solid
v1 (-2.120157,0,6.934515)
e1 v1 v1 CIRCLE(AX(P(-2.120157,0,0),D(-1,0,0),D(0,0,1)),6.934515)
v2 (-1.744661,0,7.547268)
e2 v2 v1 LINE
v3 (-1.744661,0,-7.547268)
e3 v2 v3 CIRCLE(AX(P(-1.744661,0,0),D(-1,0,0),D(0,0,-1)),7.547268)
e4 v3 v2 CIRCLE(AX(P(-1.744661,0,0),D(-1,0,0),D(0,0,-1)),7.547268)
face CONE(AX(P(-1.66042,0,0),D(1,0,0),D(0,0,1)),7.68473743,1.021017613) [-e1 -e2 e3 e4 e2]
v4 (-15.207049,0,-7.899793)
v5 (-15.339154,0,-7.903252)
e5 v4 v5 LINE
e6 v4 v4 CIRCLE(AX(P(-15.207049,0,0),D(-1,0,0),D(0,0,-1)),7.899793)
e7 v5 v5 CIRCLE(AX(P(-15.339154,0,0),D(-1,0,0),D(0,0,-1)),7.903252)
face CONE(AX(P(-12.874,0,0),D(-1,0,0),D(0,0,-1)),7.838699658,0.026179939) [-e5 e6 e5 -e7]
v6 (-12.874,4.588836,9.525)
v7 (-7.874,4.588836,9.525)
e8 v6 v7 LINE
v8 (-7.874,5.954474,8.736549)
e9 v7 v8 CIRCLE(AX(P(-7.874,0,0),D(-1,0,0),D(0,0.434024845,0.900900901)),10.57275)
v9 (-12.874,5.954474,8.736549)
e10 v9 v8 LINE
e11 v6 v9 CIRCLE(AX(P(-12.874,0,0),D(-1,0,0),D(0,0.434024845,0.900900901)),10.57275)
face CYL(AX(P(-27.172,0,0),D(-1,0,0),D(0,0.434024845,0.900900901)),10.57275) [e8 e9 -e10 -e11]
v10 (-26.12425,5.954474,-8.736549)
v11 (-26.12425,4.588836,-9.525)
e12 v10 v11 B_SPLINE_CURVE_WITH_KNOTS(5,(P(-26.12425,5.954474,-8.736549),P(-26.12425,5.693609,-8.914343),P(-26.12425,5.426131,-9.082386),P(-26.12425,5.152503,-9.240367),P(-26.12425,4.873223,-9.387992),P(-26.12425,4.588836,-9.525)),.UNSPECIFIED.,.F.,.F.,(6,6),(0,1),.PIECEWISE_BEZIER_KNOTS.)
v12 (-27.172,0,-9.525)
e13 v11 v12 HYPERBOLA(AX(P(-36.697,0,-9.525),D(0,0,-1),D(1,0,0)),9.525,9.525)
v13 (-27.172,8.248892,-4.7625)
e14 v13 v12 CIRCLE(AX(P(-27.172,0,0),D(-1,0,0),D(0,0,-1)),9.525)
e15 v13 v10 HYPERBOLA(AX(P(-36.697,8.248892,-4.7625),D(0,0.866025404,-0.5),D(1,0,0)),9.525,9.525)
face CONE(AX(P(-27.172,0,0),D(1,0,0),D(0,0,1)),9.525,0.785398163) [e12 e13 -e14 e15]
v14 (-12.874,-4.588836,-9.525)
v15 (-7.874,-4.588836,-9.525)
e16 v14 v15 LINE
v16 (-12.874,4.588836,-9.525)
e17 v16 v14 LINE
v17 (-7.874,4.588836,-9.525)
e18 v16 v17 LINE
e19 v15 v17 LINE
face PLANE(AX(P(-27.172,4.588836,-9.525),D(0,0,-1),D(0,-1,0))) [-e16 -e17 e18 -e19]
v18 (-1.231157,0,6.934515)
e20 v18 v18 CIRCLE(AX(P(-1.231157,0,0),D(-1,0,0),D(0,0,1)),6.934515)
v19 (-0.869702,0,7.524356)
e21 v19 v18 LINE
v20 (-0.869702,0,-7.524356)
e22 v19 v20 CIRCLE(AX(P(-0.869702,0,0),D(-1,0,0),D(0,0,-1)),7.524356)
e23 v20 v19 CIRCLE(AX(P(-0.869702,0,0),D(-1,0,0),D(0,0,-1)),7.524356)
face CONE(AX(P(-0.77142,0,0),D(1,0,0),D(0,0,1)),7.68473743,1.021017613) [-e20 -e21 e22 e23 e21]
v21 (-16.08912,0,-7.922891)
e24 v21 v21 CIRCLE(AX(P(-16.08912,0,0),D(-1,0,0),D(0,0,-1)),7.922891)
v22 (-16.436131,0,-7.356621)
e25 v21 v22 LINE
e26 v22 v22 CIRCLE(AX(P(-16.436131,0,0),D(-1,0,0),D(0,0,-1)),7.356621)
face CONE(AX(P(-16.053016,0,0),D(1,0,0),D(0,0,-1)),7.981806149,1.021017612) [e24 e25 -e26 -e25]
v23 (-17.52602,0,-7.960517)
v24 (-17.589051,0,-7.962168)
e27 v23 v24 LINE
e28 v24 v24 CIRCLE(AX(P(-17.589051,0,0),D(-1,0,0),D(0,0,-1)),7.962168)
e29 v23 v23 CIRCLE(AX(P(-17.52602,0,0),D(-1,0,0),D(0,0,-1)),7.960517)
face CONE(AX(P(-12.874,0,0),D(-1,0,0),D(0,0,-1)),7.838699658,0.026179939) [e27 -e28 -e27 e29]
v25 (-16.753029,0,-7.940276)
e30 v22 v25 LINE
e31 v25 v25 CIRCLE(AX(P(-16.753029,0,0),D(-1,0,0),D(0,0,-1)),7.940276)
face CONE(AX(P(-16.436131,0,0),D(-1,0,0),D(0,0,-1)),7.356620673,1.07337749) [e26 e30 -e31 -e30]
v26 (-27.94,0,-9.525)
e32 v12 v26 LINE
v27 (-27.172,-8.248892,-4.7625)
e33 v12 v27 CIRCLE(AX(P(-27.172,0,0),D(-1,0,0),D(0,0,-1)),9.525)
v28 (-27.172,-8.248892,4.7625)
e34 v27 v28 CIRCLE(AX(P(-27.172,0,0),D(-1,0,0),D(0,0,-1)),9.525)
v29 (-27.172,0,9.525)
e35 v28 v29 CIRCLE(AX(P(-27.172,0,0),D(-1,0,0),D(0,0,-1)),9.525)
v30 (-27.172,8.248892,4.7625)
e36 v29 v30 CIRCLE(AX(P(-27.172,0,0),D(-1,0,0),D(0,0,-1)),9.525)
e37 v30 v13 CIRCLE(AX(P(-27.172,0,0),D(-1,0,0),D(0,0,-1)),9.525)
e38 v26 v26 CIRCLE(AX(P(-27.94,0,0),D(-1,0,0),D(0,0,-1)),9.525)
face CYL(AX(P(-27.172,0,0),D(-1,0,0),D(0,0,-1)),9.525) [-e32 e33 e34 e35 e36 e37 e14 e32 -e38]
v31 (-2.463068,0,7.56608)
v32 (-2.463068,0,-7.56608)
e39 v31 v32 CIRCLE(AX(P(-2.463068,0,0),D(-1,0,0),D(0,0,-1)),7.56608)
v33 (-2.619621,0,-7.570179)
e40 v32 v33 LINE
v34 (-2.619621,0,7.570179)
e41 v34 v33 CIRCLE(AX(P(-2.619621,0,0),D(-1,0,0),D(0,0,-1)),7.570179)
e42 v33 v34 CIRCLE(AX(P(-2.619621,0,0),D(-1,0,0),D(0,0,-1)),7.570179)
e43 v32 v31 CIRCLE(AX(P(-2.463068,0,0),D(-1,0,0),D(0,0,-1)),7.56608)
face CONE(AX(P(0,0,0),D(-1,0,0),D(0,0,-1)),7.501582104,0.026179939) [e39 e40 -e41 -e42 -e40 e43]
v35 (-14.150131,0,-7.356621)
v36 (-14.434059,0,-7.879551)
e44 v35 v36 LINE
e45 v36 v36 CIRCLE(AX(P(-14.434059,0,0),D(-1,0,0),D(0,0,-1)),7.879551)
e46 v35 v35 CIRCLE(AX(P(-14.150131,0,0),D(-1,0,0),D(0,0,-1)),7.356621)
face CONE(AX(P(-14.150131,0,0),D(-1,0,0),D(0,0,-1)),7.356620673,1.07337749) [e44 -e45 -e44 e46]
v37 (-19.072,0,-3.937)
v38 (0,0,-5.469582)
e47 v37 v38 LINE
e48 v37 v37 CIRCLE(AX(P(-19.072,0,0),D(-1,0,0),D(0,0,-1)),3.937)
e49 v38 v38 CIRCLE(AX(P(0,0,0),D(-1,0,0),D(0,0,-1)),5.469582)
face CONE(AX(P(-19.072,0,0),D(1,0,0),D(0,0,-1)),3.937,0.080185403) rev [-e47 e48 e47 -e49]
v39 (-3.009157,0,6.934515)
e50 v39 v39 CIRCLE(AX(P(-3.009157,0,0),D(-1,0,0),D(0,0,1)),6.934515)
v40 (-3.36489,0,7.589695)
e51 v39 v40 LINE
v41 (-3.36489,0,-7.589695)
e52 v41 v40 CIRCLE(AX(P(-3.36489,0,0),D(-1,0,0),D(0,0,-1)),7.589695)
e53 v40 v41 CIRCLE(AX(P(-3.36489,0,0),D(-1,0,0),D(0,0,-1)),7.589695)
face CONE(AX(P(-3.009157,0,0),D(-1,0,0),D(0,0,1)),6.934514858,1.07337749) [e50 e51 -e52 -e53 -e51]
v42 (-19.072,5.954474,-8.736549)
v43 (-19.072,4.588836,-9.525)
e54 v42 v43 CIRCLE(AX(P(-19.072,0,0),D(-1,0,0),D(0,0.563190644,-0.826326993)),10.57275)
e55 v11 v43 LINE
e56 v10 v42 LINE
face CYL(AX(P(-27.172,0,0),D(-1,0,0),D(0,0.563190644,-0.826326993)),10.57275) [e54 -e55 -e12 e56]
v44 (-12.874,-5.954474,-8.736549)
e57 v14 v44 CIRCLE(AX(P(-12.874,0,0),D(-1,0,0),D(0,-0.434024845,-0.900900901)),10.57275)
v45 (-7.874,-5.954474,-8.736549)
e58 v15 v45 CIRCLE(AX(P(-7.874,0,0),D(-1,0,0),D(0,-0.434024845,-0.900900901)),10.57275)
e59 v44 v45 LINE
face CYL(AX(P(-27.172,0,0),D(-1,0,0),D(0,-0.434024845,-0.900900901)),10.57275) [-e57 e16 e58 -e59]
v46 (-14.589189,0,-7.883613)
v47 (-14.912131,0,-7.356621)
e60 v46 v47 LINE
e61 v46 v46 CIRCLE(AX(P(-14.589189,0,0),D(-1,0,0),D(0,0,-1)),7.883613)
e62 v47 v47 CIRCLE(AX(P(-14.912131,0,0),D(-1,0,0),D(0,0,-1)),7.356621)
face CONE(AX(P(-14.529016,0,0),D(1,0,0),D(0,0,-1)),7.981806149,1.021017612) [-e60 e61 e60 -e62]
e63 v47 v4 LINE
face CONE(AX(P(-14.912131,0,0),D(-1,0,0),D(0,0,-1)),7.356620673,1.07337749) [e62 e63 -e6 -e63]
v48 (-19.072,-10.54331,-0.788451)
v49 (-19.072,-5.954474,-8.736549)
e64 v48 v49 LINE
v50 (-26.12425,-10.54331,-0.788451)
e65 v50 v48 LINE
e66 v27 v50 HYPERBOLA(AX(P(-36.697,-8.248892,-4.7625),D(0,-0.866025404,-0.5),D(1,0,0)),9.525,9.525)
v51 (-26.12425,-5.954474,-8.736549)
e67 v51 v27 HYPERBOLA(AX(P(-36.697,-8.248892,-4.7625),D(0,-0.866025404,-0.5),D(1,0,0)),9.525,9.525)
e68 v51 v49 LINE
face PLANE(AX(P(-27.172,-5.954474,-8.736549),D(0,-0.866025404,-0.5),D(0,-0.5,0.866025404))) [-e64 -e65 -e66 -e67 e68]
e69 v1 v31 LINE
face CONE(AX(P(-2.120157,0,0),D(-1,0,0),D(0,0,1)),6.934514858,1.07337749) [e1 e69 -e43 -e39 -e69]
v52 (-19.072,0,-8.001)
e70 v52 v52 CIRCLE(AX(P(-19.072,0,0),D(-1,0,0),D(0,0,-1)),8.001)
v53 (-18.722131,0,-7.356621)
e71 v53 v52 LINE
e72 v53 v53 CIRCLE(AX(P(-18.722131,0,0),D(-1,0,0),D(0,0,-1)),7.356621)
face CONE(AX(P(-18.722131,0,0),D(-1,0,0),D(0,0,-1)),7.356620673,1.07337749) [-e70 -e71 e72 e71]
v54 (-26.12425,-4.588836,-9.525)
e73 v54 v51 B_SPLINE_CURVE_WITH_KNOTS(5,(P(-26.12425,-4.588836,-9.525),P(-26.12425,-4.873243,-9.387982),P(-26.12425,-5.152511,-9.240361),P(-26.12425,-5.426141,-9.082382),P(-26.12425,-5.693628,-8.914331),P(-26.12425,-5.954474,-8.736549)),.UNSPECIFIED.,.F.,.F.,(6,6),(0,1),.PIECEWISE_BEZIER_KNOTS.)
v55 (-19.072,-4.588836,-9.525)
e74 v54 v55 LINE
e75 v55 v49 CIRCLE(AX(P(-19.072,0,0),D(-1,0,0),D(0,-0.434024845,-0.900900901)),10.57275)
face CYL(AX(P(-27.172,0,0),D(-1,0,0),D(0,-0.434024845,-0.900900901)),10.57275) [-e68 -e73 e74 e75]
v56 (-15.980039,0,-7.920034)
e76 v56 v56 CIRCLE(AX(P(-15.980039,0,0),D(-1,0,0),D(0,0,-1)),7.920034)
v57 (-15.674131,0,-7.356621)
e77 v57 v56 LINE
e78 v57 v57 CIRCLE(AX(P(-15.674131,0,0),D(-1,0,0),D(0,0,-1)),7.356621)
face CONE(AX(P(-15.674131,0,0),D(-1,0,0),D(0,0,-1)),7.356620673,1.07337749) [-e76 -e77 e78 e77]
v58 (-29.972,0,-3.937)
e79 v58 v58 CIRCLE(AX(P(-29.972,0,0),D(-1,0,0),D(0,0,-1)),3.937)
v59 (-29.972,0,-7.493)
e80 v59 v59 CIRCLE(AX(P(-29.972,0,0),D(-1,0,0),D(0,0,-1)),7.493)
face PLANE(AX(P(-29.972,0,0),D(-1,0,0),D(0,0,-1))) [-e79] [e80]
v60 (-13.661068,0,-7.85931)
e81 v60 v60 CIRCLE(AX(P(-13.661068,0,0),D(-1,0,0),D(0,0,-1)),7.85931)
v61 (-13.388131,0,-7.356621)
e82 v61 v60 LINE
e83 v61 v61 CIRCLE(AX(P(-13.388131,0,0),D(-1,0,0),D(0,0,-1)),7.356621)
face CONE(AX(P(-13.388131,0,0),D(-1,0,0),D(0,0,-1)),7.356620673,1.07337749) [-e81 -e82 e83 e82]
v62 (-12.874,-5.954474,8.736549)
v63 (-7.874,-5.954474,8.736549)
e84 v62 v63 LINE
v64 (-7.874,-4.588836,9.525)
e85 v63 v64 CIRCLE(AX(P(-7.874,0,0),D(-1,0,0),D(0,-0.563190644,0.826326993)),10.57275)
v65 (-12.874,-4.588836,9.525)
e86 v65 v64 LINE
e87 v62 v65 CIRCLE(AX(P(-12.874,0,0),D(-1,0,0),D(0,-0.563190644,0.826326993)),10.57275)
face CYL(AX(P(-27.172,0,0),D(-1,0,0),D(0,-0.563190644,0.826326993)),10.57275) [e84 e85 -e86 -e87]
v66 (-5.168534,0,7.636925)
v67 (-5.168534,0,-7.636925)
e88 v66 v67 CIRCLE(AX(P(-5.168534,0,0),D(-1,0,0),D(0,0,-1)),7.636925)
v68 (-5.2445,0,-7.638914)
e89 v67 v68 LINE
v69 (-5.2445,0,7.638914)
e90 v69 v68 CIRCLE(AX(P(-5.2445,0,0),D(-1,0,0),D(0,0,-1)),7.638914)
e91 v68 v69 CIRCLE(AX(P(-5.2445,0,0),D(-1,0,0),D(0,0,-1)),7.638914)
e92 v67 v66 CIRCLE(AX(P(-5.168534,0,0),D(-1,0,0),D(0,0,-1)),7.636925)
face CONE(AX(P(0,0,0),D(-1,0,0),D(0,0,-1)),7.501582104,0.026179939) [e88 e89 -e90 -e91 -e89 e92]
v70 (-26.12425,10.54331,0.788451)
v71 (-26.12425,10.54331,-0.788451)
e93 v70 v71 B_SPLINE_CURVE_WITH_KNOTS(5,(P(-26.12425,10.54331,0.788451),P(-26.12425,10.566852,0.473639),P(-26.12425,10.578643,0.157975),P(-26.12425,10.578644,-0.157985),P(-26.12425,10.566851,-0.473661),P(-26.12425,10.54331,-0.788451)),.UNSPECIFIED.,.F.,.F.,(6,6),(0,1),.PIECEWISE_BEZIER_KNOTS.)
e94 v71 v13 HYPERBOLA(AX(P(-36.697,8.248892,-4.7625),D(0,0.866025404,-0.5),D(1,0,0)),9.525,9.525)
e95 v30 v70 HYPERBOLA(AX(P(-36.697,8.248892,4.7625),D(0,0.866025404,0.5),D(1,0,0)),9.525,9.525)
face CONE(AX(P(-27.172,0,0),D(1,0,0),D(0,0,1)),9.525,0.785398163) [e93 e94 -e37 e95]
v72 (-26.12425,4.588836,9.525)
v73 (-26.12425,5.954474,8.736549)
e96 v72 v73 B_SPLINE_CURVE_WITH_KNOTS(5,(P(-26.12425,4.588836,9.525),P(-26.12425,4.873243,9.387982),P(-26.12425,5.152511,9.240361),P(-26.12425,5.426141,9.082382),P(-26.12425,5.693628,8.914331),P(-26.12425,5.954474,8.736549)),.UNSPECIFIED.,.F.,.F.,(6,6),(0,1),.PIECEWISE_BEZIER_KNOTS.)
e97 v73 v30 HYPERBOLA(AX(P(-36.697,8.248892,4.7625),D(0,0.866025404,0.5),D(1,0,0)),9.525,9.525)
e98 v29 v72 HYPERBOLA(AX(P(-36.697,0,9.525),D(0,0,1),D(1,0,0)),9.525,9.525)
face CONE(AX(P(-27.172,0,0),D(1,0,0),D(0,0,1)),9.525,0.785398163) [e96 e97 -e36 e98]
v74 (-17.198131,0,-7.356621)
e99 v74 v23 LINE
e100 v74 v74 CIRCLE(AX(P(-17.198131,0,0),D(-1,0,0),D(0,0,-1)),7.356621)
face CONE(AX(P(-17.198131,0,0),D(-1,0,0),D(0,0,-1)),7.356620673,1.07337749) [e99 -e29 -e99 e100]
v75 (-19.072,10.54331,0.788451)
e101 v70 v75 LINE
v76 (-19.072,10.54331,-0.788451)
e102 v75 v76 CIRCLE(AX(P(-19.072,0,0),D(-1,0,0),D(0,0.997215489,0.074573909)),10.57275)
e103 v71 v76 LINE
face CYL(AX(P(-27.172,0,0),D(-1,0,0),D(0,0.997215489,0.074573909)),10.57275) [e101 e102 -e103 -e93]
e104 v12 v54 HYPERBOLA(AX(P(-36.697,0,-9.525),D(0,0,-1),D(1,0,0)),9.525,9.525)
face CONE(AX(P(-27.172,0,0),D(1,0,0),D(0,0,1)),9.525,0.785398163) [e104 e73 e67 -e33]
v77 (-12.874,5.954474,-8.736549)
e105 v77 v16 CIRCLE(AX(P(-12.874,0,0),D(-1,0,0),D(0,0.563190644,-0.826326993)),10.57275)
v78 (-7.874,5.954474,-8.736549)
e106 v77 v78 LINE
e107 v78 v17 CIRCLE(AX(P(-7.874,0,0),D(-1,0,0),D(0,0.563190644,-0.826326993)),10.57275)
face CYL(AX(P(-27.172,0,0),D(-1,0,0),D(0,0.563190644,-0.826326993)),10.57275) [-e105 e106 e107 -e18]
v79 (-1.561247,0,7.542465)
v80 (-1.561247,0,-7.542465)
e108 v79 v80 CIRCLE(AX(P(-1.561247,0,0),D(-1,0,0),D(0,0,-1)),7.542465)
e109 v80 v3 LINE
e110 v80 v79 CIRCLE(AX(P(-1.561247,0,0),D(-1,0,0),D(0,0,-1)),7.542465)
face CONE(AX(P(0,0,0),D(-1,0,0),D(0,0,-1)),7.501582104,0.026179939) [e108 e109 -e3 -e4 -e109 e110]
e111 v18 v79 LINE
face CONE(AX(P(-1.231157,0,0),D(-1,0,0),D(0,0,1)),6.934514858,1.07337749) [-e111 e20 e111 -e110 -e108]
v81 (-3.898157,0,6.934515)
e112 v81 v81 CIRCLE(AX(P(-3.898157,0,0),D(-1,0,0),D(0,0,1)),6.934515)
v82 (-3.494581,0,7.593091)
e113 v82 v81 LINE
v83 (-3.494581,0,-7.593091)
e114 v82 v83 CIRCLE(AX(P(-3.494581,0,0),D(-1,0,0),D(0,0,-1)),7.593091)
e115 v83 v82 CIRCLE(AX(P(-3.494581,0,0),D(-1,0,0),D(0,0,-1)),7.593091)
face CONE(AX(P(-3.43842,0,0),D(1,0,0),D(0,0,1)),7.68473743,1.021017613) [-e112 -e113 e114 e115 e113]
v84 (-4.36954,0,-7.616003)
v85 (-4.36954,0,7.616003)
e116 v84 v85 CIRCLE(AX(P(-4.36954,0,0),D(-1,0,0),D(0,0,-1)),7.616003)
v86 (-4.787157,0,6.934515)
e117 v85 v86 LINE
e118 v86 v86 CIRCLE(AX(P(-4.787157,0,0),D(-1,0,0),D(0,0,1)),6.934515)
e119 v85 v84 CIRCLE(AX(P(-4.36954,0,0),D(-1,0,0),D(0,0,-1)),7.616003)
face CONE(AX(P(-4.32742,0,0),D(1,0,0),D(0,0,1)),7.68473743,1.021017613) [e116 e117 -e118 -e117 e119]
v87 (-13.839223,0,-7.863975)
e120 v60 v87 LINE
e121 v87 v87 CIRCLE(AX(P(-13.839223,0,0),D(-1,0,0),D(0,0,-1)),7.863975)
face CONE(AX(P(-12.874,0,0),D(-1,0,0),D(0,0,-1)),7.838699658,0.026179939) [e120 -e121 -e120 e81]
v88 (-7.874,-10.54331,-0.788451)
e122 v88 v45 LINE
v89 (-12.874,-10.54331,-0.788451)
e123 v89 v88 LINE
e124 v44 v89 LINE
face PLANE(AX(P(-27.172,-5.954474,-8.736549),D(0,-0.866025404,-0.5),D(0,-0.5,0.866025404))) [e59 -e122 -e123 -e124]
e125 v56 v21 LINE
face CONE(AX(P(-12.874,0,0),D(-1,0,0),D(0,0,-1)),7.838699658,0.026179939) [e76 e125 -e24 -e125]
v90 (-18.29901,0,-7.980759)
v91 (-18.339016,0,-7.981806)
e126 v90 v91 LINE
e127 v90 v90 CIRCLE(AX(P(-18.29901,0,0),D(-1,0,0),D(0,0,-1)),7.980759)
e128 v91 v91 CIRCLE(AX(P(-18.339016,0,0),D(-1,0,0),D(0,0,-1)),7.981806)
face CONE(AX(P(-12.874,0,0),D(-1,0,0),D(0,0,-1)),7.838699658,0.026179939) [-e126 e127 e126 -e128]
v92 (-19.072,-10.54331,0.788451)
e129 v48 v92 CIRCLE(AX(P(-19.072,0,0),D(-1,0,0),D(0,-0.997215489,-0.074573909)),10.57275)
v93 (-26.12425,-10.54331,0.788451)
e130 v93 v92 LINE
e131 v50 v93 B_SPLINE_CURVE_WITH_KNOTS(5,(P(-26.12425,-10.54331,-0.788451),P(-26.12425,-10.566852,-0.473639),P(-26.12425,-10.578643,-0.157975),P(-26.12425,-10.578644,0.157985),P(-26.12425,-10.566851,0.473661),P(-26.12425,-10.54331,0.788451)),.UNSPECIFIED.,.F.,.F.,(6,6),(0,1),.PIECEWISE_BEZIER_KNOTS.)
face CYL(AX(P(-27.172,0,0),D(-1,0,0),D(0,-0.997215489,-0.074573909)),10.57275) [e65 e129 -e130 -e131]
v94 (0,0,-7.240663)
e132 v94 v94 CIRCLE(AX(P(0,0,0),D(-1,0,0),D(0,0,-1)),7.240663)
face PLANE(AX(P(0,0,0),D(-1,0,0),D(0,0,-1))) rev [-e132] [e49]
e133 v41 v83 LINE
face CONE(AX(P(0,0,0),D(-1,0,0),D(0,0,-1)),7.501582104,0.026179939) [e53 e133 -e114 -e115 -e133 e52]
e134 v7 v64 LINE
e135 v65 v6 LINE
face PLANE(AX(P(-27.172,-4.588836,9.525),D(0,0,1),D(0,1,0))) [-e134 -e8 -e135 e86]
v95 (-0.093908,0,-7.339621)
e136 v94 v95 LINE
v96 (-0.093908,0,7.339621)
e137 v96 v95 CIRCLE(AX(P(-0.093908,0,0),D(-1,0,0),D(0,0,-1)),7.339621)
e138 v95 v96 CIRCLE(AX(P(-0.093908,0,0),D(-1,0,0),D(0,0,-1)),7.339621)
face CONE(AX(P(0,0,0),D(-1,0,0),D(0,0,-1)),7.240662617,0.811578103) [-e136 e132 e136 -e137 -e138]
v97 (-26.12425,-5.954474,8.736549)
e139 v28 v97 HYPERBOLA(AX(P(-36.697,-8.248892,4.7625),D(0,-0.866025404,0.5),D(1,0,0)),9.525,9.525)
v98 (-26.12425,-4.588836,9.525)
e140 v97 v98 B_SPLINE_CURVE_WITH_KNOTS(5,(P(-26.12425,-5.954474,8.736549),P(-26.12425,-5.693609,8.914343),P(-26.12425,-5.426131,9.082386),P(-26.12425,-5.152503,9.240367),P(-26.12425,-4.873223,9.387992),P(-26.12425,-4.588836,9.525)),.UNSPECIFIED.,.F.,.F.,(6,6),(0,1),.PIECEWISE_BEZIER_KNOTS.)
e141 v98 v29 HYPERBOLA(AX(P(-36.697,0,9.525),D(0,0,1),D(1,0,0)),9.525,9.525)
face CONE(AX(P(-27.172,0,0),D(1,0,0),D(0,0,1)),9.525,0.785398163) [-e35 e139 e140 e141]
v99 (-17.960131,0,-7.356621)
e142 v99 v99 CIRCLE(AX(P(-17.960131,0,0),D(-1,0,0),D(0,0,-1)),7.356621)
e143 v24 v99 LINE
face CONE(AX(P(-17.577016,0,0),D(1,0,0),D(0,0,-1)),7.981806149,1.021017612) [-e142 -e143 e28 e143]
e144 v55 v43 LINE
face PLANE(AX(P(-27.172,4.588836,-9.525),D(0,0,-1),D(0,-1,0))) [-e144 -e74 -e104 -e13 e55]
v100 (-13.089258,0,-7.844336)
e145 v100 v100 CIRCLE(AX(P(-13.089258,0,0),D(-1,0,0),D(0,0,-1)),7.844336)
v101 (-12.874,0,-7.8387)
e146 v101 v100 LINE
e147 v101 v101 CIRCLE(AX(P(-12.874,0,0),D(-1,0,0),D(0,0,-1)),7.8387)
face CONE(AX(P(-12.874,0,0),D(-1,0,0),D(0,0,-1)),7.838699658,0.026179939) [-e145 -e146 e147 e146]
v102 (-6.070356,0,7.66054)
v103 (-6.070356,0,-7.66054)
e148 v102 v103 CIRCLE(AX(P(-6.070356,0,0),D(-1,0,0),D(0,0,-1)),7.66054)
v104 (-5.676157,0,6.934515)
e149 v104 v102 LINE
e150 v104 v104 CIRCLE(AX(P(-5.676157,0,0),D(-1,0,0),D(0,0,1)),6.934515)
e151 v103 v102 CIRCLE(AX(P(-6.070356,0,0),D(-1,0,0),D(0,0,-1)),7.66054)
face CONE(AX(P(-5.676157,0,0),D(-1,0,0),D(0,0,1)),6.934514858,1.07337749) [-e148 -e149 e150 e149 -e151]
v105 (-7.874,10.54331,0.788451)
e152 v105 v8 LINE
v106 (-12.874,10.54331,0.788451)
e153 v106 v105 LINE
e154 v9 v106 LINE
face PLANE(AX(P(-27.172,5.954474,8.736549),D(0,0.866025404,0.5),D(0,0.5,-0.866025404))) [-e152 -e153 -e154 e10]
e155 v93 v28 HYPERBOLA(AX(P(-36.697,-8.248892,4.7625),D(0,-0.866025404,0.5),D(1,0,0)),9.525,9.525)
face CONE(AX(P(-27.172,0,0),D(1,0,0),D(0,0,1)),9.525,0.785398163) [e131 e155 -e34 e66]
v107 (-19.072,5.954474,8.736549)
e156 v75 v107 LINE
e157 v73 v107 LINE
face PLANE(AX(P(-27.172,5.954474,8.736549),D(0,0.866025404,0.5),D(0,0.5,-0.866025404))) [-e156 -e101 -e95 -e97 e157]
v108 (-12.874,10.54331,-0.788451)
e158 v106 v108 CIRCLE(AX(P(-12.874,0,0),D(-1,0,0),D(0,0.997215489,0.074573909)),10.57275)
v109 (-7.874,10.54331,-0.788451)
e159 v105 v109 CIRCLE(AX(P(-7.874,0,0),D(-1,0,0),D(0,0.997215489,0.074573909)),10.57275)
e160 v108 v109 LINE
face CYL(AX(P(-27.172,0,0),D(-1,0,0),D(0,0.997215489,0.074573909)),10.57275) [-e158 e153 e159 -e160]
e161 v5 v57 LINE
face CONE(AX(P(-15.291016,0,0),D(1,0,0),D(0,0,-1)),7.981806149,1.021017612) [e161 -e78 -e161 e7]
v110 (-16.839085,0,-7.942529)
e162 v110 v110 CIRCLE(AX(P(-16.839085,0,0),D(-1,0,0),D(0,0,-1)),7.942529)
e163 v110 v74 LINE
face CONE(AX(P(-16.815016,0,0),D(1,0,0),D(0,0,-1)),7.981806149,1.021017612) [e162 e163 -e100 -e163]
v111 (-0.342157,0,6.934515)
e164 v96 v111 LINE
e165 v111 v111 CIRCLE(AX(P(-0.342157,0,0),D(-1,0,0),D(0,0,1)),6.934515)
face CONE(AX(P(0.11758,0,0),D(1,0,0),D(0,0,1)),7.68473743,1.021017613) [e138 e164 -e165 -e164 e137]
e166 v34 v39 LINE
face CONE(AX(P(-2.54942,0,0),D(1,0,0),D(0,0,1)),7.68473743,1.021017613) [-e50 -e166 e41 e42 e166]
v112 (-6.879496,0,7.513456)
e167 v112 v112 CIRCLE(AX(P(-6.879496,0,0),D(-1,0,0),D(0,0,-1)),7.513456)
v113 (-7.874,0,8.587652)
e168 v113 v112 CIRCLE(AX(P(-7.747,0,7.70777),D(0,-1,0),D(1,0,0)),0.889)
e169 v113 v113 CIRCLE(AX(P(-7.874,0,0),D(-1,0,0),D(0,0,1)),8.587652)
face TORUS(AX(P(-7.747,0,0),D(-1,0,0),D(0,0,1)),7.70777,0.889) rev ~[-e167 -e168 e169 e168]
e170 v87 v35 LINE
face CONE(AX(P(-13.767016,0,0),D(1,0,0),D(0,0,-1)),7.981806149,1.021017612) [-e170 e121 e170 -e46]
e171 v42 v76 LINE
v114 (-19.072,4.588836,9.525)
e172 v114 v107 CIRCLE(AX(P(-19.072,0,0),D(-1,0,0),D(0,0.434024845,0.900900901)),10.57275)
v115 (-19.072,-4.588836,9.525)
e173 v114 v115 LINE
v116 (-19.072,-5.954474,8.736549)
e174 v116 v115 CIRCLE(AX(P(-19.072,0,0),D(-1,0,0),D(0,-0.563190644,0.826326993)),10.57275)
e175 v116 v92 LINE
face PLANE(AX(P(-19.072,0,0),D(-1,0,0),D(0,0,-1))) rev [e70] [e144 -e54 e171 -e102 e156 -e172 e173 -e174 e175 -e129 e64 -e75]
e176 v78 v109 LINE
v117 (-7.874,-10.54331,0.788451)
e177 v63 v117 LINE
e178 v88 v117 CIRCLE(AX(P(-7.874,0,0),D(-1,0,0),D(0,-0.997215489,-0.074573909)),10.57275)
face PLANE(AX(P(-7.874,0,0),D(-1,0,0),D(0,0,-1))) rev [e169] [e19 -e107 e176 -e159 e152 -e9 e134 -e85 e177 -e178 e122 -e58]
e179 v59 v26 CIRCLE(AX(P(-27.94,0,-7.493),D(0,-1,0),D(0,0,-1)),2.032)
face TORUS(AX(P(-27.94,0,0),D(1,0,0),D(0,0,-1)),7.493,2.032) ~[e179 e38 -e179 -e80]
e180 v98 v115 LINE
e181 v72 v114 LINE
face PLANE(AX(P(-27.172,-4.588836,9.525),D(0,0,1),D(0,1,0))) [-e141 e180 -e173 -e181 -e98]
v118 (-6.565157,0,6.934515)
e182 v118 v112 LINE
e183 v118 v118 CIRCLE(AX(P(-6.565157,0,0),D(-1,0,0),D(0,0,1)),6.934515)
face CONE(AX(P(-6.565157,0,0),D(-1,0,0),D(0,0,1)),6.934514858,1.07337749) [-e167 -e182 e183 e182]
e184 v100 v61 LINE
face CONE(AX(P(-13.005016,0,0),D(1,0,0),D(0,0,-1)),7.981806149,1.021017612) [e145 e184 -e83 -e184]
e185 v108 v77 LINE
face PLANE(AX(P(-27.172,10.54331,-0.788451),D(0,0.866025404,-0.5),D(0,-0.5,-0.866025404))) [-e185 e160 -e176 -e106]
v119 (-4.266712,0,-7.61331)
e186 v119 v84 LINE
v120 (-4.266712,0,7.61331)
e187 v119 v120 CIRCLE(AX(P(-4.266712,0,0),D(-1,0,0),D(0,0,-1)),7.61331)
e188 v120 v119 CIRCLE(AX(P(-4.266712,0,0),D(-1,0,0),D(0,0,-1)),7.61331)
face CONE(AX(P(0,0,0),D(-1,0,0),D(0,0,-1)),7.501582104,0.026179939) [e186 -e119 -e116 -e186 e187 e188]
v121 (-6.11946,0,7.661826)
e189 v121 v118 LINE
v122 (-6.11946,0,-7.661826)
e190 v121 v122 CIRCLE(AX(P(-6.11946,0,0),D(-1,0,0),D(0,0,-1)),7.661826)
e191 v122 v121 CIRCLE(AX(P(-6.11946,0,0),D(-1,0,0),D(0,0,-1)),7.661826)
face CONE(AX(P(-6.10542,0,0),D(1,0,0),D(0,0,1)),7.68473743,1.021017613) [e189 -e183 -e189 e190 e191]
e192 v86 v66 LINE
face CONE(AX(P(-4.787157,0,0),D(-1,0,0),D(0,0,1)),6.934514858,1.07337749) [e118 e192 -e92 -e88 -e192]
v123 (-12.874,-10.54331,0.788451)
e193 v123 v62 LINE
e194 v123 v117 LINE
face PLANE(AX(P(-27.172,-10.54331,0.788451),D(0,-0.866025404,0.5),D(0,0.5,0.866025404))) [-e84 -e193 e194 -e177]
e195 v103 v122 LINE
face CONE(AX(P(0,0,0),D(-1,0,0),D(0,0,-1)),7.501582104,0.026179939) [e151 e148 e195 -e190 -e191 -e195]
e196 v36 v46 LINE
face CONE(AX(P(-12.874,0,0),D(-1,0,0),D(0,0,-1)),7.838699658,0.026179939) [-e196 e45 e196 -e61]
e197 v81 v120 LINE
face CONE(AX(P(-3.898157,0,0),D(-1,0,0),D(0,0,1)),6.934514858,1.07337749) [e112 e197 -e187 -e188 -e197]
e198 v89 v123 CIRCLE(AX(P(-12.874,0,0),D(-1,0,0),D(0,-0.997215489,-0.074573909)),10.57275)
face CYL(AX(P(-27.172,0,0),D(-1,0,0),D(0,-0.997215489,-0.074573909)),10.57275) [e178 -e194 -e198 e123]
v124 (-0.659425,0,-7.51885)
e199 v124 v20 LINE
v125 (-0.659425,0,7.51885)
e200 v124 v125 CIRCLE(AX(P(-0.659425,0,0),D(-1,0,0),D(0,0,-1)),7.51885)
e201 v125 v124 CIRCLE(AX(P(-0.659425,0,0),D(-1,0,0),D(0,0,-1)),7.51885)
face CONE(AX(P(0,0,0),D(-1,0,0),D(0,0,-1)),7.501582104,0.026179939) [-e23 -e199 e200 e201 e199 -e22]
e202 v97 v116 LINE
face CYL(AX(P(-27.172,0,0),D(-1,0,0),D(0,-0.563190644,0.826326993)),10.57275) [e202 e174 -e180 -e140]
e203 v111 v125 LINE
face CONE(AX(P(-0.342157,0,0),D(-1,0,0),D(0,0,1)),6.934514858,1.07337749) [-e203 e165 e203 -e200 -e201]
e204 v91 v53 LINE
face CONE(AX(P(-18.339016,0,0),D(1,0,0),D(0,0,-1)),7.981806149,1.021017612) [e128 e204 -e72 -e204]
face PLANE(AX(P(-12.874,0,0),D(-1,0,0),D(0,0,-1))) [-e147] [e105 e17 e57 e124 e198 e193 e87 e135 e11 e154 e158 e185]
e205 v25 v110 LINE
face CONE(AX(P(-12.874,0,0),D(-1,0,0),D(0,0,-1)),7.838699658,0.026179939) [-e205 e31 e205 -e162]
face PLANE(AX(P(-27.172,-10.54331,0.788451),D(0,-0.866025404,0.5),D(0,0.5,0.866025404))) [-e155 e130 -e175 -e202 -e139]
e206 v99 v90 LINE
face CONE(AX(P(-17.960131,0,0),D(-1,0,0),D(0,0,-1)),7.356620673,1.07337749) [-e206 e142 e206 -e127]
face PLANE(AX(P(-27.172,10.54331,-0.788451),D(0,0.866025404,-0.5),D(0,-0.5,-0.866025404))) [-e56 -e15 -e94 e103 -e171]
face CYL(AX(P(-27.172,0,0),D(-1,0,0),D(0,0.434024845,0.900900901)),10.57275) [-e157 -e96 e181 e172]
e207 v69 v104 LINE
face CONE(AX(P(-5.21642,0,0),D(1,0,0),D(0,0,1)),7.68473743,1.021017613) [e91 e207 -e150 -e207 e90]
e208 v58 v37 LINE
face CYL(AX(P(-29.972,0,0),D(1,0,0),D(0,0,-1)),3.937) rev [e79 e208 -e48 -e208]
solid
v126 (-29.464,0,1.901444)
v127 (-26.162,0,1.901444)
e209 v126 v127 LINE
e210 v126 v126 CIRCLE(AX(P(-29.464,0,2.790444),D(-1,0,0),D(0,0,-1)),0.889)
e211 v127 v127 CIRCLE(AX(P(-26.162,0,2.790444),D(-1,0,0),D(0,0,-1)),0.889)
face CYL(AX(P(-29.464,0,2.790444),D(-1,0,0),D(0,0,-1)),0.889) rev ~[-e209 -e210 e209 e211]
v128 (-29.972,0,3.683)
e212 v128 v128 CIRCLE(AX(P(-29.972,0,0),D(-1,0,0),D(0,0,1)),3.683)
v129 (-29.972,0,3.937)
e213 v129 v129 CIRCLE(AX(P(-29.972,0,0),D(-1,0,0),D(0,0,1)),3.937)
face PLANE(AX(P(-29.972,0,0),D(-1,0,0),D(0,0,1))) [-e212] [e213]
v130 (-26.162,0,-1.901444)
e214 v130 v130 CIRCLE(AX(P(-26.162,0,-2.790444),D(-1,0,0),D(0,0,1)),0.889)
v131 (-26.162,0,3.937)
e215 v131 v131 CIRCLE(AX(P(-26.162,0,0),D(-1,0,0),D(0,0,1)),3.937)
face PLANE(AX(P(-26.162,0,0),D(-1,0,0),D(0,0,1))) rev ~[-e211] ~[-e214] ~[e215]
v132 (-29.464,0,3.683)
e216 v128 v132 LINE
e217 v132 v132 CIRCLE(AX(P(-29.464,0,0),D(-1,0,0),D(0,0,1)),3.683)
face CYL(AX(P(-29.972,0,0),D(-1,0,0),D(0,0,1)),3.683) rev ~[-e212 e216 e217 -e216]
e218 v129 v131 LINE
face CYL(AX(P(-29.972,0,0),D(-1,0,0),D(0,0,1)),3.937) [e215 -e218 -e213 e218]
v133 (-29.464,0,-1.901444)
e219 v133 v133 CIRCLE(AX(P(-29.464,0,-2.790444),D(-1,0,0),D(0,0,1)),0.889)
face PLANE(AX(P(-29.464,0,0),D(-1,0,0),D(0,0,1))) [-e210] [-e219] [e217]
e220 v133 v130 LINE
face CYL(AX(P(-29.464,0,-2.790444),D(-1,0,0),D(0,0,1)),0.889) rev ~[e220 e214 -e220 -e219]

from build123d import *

# Parameters (mm, degrees)
SKETCH12_OUTSIDE_W = 52.432
SKETCH12_OUTSIDE_H = 52.432
CUT_EXTRUDE2_DEPTH = 28.172
FILLET4_R          = 2.032
SKETCH19_OUTSIDE_W = 33.316
SKETCH19_OUTSIDE_H = 35.412
SKETCH19_OUTSIDE_R = 9.525
CUT_EXTRUDE3_DEPTH = 1.999996
CUT_EXTRUDE3_DRAFT = -45
CHAMFER1_SIZE      = 0.260919487
CHAMFER1_SIZE2     = 0.254
SKETCH21_R         = 3.937
PLUG_DEPTH         = 3.81
SKETCH22_R         = 3.683
CUT_EXTRUDE4_DEPTH = 0.508
SKETCH27_R         = 0.889
PLUGHOLES_DEPTH    = 30.464
CIRPATTERN1_COUNT  = 2
LPATTERN1_COUNT    = 8
LPATTERN1_PITCH    = 0.762
LPATTERN2_COUNT    = 9
LPATTERN2_PITCH    = 0.889
SKETCH32_R         = 0.889


with BuildPart() as part:
    # Sketch10 → Revolve2 (revolve)
    with BuildSketch(Plane.XY, mode=Mode.PRIVATE) as revolve2_sk:
        Polygon((-29.972, 3.937), (-19.072, 3.937), (0, 5.469582104), (0, 7.501582104), (-7.874, 7.70777005), (-7.874, 19.05), (-12.874, 19.05), (-12.874, 7.838699658), (-19.072, 8.001), (-19.072, 19.05), (-27.172, 19.05), (-27.172, 9.525), (-29.972, 9.525), align=None)
    revolve(revolve2_sk.sketch.rotate(Axis((0, 0, 0), (-1, 0, 0)), 90), axis=Axis((0, 0, 0), (-1, 0, 0)))  # turned: the seam where the file's is

    # Sketch12 outside → Cut-Extrude2 (cut, through all)
    with BuildSketch(Plane.ZY.offset(27.172)):
        Rectangle(SKETCH12_OUTSIDE_W, SKETCH12_OUTSIDE_H)
        with BuildLine():
            Line((-0.788451287, 10.543310065), (-8.736548713, 5.954473877))
            ThreePointArc((-8.736548713, 5.954473877), (-9.156270088, 5.286375), (-9.525, 4.588836188))
            Line((-9.525, 4.588836188), (-9.525, -4.588836188))
            ThreePointArc((-9.525, -4.588836188), (-9.156270088, -5.286375), (-8.736548713, -5.954473877))
            Line((-8.736548713, -5.954473877), (-0.788451287, -10.543310065))
            ThreePointArc((-0.788451287, -10.543310065), (0, -10.57275), (0.788451287, -10.543310065))
            Line((0.788451287, -10.543310065), (8.736548713, -5.954473877))
            ThreePointArc((8.736548713, -5.954473877), (9.156270088, -5.286375), (9.525, -4.588836188))
            Line((9.525, -4.588836188), (9.525, 4.588836188))
            ThreePointArc((9.525, 4.588836188), (9.156270088, 5.286375), (8.736548713, 5.954473877))
            Line((8.736548713, 5.954473877), (0.788451287, 10.543310065))
            ThreePointArc((0.788451287, 10.543310065), (0, 10.57275), (-0.788451287, 10.543310065))
        make_face(mode=Mode.SUBTRACT)
    extrude(amount=-CUT_EXTRUDE2_DEPTH, mode=Mode.SUBTRACT)

    # Fillet4
    fillet4_edges = [part.edges().sort_by_distance(p)[0] for p in [
        (-29.972, 0, 9.525),
    ]]
    fillet(fillet4_edges, radius=FILLET4_R)


with BuildPart() as cut_extrude3_tool:
    # Sketch19 outside → Cut-Extrude3 (with draft: the straight prism first)
    with BuildSketch(Plane.ZY.offset(27.172)):
        Rectangle(SKETCH19_OUTSIDE_W, SKETCH19_OUTSIDE_H)
        Circle(SKETCH19_OUTSIDE_R, mode=Mode.SUBTRACT)
    extrude(amount=-CUT_EXTRUDE3_DEPTH)
    # Cut-Extrude3: the draft: its side faces are tilted about the plane it starts from
    cut_extrude3_sides = [cut_extrude3_tool.faces().sort_by_distance(p)[0] for p in [
        (-26.172002, -17.706, 0),
        (-26.172002, 0, 16.658),
        (-26.172002, 17.706, 0),
        (-26.172002, 0, -16.658),
        (-26.172002, 0, -9.525),
    ]]
    draft(cut_extrude3_sides, Plane.ZY.offset(27.172), CUT_EXTRUDE3_DRAFT)


with BuildPart() as part_1:
    add(part.part)

    # Cut-Extrude3: cut by cut_extrude3_tool
    add(cut_extrude3_tool.part, mode=Mode.SUBTRACT)

    # Chamfer1
    chamfer1_edges = [part_1.edges().sort_by_distance(p)[0] for p in [
        (0, 0, 7.501582104),
    ]]
    chamfer1_side = [part_1.faces().sort_by_distance(p)[0] for p in [
        (0, 0, 5.681758887),
    ]]
    chamfer(chamfer1_edges, length=CHAMFER1_SIZE, length2=CHAMFER1_SIZE2, reference=chamfer1_side[0])

    # Sketch29 → Cut-Revolve1 (revolve, cut)
    with BuildSketch(Plane.XY, mode=Mode.PRIVATE) as cut_revolve1_sk:
        Polygon((-19.072, 8.001), (-18.339016419, 7.981806149), (-18.722130572, 7.356620673), align=None)
    cut_revolve1 = revolve(cut_revolve1_sk.sketch.rotate(Axis((0, 0, 0), (-1, 0, 0)), 90), axis=Axis((0, 0, 0), (-1, 0, 0)), mode=Mode.SUBTRACT)  # turned: the seam where the file's is

    # LPattern1: Cut-Revolve1 ×8
    with Locations(*[(i * LPATTERN1_PITCH, 0, 0) for i in range(1, LPATTERN1_COUNT)]):
        add(cut_revolve1, mode=Mode.SUBTRACT)

    # Sketch30 → Cut-Revolve2 (revolve, cut)
    with BuildSketch(Plane.XY, mode=Mode.PRIVATE) as cut_revolve2_sk:
        Polygon((-7.874, 7.70777005), (-6.994419703, 7.68473743), (-7.454156686, 6.934514858), align=None)
    cut_revolve2 = revolve(cut_revolve2_sk.sketch.rotate(Axis((0, 0, 0), (-1, 0, 0)), 270), axis=Axis((0, 0, 0), (-1, 0, 0)), mode=Mode.SUBTRACT)  # turned: the seam where the file's is

    # LPattern2: Cut-Revolve2 ×9
    with Locations(*[(i * LPATTERN2_PITCH, 0, 0) for i in range(1, LPATTERN2_COUNT)]):
        add(cut_revolve2, mode=Mode.SUBTRACT)

    # Sketch32 → Cut-Revolve3 (revolve, cut)
    with BuildSketch(Plane.XY, mode=Mode.PRIVATE) as cut_revolve3_sk:
        with Locations((-7.747, 7.70777005)):
            Circle(SKETCH32_R)
    revolve(cut_revolve3_sk.sketch.rotate(Axis((0, 0, 0), (-1, 0, 0)), 270), axis=Axis((0, 0, 0), (-1, 0, 0)), mode=Mode.SUBTRACT)  # turned: the seam where the file's is


with BuildPart() as body_2:
    # Sketch21 → plug (new body)
    with BuildSketch(Plane.ZY.offset(29.972)):
        Circle(SKETCH21_R)
    extrude(amount=-PLUG_DEPTH)

    # Sketch22 → Cut-Extrude4 (cut)
    with BuildSketch(Plane.ZY.offset(29.972)):
        Circle(SKETCH22_R)
    extrude(amount=-CUT_EXTRUDE4_DEPTH, mode=Mode.SUBTRACT)

    # Sketch27 → plugholes (cut, through all)
    with BuildSketch(Plane.ZY.offset(29.464)):
        with Locations((-2.790444, 0)):
            Circle(SKETCH27_R)
    plugholes = extrude(amount=-PLUGHOLES_DEPTH, mode=Mode.SUBTRACT)

    # CirPattern1: plugholes ×2 about axis
    cirpattern1_axis = Axis((0, 0, 0), (1, 0, 0))
    for i in range(1, CIRPATTERN1_COUNT):
        add(plugholes.rotate(cirpattern1_axis, i * 360 / CIRPATTERN1_COUNT), mode=Mode.SUBTRACT)


solid = Compound([part_1.part, body_2.part])
